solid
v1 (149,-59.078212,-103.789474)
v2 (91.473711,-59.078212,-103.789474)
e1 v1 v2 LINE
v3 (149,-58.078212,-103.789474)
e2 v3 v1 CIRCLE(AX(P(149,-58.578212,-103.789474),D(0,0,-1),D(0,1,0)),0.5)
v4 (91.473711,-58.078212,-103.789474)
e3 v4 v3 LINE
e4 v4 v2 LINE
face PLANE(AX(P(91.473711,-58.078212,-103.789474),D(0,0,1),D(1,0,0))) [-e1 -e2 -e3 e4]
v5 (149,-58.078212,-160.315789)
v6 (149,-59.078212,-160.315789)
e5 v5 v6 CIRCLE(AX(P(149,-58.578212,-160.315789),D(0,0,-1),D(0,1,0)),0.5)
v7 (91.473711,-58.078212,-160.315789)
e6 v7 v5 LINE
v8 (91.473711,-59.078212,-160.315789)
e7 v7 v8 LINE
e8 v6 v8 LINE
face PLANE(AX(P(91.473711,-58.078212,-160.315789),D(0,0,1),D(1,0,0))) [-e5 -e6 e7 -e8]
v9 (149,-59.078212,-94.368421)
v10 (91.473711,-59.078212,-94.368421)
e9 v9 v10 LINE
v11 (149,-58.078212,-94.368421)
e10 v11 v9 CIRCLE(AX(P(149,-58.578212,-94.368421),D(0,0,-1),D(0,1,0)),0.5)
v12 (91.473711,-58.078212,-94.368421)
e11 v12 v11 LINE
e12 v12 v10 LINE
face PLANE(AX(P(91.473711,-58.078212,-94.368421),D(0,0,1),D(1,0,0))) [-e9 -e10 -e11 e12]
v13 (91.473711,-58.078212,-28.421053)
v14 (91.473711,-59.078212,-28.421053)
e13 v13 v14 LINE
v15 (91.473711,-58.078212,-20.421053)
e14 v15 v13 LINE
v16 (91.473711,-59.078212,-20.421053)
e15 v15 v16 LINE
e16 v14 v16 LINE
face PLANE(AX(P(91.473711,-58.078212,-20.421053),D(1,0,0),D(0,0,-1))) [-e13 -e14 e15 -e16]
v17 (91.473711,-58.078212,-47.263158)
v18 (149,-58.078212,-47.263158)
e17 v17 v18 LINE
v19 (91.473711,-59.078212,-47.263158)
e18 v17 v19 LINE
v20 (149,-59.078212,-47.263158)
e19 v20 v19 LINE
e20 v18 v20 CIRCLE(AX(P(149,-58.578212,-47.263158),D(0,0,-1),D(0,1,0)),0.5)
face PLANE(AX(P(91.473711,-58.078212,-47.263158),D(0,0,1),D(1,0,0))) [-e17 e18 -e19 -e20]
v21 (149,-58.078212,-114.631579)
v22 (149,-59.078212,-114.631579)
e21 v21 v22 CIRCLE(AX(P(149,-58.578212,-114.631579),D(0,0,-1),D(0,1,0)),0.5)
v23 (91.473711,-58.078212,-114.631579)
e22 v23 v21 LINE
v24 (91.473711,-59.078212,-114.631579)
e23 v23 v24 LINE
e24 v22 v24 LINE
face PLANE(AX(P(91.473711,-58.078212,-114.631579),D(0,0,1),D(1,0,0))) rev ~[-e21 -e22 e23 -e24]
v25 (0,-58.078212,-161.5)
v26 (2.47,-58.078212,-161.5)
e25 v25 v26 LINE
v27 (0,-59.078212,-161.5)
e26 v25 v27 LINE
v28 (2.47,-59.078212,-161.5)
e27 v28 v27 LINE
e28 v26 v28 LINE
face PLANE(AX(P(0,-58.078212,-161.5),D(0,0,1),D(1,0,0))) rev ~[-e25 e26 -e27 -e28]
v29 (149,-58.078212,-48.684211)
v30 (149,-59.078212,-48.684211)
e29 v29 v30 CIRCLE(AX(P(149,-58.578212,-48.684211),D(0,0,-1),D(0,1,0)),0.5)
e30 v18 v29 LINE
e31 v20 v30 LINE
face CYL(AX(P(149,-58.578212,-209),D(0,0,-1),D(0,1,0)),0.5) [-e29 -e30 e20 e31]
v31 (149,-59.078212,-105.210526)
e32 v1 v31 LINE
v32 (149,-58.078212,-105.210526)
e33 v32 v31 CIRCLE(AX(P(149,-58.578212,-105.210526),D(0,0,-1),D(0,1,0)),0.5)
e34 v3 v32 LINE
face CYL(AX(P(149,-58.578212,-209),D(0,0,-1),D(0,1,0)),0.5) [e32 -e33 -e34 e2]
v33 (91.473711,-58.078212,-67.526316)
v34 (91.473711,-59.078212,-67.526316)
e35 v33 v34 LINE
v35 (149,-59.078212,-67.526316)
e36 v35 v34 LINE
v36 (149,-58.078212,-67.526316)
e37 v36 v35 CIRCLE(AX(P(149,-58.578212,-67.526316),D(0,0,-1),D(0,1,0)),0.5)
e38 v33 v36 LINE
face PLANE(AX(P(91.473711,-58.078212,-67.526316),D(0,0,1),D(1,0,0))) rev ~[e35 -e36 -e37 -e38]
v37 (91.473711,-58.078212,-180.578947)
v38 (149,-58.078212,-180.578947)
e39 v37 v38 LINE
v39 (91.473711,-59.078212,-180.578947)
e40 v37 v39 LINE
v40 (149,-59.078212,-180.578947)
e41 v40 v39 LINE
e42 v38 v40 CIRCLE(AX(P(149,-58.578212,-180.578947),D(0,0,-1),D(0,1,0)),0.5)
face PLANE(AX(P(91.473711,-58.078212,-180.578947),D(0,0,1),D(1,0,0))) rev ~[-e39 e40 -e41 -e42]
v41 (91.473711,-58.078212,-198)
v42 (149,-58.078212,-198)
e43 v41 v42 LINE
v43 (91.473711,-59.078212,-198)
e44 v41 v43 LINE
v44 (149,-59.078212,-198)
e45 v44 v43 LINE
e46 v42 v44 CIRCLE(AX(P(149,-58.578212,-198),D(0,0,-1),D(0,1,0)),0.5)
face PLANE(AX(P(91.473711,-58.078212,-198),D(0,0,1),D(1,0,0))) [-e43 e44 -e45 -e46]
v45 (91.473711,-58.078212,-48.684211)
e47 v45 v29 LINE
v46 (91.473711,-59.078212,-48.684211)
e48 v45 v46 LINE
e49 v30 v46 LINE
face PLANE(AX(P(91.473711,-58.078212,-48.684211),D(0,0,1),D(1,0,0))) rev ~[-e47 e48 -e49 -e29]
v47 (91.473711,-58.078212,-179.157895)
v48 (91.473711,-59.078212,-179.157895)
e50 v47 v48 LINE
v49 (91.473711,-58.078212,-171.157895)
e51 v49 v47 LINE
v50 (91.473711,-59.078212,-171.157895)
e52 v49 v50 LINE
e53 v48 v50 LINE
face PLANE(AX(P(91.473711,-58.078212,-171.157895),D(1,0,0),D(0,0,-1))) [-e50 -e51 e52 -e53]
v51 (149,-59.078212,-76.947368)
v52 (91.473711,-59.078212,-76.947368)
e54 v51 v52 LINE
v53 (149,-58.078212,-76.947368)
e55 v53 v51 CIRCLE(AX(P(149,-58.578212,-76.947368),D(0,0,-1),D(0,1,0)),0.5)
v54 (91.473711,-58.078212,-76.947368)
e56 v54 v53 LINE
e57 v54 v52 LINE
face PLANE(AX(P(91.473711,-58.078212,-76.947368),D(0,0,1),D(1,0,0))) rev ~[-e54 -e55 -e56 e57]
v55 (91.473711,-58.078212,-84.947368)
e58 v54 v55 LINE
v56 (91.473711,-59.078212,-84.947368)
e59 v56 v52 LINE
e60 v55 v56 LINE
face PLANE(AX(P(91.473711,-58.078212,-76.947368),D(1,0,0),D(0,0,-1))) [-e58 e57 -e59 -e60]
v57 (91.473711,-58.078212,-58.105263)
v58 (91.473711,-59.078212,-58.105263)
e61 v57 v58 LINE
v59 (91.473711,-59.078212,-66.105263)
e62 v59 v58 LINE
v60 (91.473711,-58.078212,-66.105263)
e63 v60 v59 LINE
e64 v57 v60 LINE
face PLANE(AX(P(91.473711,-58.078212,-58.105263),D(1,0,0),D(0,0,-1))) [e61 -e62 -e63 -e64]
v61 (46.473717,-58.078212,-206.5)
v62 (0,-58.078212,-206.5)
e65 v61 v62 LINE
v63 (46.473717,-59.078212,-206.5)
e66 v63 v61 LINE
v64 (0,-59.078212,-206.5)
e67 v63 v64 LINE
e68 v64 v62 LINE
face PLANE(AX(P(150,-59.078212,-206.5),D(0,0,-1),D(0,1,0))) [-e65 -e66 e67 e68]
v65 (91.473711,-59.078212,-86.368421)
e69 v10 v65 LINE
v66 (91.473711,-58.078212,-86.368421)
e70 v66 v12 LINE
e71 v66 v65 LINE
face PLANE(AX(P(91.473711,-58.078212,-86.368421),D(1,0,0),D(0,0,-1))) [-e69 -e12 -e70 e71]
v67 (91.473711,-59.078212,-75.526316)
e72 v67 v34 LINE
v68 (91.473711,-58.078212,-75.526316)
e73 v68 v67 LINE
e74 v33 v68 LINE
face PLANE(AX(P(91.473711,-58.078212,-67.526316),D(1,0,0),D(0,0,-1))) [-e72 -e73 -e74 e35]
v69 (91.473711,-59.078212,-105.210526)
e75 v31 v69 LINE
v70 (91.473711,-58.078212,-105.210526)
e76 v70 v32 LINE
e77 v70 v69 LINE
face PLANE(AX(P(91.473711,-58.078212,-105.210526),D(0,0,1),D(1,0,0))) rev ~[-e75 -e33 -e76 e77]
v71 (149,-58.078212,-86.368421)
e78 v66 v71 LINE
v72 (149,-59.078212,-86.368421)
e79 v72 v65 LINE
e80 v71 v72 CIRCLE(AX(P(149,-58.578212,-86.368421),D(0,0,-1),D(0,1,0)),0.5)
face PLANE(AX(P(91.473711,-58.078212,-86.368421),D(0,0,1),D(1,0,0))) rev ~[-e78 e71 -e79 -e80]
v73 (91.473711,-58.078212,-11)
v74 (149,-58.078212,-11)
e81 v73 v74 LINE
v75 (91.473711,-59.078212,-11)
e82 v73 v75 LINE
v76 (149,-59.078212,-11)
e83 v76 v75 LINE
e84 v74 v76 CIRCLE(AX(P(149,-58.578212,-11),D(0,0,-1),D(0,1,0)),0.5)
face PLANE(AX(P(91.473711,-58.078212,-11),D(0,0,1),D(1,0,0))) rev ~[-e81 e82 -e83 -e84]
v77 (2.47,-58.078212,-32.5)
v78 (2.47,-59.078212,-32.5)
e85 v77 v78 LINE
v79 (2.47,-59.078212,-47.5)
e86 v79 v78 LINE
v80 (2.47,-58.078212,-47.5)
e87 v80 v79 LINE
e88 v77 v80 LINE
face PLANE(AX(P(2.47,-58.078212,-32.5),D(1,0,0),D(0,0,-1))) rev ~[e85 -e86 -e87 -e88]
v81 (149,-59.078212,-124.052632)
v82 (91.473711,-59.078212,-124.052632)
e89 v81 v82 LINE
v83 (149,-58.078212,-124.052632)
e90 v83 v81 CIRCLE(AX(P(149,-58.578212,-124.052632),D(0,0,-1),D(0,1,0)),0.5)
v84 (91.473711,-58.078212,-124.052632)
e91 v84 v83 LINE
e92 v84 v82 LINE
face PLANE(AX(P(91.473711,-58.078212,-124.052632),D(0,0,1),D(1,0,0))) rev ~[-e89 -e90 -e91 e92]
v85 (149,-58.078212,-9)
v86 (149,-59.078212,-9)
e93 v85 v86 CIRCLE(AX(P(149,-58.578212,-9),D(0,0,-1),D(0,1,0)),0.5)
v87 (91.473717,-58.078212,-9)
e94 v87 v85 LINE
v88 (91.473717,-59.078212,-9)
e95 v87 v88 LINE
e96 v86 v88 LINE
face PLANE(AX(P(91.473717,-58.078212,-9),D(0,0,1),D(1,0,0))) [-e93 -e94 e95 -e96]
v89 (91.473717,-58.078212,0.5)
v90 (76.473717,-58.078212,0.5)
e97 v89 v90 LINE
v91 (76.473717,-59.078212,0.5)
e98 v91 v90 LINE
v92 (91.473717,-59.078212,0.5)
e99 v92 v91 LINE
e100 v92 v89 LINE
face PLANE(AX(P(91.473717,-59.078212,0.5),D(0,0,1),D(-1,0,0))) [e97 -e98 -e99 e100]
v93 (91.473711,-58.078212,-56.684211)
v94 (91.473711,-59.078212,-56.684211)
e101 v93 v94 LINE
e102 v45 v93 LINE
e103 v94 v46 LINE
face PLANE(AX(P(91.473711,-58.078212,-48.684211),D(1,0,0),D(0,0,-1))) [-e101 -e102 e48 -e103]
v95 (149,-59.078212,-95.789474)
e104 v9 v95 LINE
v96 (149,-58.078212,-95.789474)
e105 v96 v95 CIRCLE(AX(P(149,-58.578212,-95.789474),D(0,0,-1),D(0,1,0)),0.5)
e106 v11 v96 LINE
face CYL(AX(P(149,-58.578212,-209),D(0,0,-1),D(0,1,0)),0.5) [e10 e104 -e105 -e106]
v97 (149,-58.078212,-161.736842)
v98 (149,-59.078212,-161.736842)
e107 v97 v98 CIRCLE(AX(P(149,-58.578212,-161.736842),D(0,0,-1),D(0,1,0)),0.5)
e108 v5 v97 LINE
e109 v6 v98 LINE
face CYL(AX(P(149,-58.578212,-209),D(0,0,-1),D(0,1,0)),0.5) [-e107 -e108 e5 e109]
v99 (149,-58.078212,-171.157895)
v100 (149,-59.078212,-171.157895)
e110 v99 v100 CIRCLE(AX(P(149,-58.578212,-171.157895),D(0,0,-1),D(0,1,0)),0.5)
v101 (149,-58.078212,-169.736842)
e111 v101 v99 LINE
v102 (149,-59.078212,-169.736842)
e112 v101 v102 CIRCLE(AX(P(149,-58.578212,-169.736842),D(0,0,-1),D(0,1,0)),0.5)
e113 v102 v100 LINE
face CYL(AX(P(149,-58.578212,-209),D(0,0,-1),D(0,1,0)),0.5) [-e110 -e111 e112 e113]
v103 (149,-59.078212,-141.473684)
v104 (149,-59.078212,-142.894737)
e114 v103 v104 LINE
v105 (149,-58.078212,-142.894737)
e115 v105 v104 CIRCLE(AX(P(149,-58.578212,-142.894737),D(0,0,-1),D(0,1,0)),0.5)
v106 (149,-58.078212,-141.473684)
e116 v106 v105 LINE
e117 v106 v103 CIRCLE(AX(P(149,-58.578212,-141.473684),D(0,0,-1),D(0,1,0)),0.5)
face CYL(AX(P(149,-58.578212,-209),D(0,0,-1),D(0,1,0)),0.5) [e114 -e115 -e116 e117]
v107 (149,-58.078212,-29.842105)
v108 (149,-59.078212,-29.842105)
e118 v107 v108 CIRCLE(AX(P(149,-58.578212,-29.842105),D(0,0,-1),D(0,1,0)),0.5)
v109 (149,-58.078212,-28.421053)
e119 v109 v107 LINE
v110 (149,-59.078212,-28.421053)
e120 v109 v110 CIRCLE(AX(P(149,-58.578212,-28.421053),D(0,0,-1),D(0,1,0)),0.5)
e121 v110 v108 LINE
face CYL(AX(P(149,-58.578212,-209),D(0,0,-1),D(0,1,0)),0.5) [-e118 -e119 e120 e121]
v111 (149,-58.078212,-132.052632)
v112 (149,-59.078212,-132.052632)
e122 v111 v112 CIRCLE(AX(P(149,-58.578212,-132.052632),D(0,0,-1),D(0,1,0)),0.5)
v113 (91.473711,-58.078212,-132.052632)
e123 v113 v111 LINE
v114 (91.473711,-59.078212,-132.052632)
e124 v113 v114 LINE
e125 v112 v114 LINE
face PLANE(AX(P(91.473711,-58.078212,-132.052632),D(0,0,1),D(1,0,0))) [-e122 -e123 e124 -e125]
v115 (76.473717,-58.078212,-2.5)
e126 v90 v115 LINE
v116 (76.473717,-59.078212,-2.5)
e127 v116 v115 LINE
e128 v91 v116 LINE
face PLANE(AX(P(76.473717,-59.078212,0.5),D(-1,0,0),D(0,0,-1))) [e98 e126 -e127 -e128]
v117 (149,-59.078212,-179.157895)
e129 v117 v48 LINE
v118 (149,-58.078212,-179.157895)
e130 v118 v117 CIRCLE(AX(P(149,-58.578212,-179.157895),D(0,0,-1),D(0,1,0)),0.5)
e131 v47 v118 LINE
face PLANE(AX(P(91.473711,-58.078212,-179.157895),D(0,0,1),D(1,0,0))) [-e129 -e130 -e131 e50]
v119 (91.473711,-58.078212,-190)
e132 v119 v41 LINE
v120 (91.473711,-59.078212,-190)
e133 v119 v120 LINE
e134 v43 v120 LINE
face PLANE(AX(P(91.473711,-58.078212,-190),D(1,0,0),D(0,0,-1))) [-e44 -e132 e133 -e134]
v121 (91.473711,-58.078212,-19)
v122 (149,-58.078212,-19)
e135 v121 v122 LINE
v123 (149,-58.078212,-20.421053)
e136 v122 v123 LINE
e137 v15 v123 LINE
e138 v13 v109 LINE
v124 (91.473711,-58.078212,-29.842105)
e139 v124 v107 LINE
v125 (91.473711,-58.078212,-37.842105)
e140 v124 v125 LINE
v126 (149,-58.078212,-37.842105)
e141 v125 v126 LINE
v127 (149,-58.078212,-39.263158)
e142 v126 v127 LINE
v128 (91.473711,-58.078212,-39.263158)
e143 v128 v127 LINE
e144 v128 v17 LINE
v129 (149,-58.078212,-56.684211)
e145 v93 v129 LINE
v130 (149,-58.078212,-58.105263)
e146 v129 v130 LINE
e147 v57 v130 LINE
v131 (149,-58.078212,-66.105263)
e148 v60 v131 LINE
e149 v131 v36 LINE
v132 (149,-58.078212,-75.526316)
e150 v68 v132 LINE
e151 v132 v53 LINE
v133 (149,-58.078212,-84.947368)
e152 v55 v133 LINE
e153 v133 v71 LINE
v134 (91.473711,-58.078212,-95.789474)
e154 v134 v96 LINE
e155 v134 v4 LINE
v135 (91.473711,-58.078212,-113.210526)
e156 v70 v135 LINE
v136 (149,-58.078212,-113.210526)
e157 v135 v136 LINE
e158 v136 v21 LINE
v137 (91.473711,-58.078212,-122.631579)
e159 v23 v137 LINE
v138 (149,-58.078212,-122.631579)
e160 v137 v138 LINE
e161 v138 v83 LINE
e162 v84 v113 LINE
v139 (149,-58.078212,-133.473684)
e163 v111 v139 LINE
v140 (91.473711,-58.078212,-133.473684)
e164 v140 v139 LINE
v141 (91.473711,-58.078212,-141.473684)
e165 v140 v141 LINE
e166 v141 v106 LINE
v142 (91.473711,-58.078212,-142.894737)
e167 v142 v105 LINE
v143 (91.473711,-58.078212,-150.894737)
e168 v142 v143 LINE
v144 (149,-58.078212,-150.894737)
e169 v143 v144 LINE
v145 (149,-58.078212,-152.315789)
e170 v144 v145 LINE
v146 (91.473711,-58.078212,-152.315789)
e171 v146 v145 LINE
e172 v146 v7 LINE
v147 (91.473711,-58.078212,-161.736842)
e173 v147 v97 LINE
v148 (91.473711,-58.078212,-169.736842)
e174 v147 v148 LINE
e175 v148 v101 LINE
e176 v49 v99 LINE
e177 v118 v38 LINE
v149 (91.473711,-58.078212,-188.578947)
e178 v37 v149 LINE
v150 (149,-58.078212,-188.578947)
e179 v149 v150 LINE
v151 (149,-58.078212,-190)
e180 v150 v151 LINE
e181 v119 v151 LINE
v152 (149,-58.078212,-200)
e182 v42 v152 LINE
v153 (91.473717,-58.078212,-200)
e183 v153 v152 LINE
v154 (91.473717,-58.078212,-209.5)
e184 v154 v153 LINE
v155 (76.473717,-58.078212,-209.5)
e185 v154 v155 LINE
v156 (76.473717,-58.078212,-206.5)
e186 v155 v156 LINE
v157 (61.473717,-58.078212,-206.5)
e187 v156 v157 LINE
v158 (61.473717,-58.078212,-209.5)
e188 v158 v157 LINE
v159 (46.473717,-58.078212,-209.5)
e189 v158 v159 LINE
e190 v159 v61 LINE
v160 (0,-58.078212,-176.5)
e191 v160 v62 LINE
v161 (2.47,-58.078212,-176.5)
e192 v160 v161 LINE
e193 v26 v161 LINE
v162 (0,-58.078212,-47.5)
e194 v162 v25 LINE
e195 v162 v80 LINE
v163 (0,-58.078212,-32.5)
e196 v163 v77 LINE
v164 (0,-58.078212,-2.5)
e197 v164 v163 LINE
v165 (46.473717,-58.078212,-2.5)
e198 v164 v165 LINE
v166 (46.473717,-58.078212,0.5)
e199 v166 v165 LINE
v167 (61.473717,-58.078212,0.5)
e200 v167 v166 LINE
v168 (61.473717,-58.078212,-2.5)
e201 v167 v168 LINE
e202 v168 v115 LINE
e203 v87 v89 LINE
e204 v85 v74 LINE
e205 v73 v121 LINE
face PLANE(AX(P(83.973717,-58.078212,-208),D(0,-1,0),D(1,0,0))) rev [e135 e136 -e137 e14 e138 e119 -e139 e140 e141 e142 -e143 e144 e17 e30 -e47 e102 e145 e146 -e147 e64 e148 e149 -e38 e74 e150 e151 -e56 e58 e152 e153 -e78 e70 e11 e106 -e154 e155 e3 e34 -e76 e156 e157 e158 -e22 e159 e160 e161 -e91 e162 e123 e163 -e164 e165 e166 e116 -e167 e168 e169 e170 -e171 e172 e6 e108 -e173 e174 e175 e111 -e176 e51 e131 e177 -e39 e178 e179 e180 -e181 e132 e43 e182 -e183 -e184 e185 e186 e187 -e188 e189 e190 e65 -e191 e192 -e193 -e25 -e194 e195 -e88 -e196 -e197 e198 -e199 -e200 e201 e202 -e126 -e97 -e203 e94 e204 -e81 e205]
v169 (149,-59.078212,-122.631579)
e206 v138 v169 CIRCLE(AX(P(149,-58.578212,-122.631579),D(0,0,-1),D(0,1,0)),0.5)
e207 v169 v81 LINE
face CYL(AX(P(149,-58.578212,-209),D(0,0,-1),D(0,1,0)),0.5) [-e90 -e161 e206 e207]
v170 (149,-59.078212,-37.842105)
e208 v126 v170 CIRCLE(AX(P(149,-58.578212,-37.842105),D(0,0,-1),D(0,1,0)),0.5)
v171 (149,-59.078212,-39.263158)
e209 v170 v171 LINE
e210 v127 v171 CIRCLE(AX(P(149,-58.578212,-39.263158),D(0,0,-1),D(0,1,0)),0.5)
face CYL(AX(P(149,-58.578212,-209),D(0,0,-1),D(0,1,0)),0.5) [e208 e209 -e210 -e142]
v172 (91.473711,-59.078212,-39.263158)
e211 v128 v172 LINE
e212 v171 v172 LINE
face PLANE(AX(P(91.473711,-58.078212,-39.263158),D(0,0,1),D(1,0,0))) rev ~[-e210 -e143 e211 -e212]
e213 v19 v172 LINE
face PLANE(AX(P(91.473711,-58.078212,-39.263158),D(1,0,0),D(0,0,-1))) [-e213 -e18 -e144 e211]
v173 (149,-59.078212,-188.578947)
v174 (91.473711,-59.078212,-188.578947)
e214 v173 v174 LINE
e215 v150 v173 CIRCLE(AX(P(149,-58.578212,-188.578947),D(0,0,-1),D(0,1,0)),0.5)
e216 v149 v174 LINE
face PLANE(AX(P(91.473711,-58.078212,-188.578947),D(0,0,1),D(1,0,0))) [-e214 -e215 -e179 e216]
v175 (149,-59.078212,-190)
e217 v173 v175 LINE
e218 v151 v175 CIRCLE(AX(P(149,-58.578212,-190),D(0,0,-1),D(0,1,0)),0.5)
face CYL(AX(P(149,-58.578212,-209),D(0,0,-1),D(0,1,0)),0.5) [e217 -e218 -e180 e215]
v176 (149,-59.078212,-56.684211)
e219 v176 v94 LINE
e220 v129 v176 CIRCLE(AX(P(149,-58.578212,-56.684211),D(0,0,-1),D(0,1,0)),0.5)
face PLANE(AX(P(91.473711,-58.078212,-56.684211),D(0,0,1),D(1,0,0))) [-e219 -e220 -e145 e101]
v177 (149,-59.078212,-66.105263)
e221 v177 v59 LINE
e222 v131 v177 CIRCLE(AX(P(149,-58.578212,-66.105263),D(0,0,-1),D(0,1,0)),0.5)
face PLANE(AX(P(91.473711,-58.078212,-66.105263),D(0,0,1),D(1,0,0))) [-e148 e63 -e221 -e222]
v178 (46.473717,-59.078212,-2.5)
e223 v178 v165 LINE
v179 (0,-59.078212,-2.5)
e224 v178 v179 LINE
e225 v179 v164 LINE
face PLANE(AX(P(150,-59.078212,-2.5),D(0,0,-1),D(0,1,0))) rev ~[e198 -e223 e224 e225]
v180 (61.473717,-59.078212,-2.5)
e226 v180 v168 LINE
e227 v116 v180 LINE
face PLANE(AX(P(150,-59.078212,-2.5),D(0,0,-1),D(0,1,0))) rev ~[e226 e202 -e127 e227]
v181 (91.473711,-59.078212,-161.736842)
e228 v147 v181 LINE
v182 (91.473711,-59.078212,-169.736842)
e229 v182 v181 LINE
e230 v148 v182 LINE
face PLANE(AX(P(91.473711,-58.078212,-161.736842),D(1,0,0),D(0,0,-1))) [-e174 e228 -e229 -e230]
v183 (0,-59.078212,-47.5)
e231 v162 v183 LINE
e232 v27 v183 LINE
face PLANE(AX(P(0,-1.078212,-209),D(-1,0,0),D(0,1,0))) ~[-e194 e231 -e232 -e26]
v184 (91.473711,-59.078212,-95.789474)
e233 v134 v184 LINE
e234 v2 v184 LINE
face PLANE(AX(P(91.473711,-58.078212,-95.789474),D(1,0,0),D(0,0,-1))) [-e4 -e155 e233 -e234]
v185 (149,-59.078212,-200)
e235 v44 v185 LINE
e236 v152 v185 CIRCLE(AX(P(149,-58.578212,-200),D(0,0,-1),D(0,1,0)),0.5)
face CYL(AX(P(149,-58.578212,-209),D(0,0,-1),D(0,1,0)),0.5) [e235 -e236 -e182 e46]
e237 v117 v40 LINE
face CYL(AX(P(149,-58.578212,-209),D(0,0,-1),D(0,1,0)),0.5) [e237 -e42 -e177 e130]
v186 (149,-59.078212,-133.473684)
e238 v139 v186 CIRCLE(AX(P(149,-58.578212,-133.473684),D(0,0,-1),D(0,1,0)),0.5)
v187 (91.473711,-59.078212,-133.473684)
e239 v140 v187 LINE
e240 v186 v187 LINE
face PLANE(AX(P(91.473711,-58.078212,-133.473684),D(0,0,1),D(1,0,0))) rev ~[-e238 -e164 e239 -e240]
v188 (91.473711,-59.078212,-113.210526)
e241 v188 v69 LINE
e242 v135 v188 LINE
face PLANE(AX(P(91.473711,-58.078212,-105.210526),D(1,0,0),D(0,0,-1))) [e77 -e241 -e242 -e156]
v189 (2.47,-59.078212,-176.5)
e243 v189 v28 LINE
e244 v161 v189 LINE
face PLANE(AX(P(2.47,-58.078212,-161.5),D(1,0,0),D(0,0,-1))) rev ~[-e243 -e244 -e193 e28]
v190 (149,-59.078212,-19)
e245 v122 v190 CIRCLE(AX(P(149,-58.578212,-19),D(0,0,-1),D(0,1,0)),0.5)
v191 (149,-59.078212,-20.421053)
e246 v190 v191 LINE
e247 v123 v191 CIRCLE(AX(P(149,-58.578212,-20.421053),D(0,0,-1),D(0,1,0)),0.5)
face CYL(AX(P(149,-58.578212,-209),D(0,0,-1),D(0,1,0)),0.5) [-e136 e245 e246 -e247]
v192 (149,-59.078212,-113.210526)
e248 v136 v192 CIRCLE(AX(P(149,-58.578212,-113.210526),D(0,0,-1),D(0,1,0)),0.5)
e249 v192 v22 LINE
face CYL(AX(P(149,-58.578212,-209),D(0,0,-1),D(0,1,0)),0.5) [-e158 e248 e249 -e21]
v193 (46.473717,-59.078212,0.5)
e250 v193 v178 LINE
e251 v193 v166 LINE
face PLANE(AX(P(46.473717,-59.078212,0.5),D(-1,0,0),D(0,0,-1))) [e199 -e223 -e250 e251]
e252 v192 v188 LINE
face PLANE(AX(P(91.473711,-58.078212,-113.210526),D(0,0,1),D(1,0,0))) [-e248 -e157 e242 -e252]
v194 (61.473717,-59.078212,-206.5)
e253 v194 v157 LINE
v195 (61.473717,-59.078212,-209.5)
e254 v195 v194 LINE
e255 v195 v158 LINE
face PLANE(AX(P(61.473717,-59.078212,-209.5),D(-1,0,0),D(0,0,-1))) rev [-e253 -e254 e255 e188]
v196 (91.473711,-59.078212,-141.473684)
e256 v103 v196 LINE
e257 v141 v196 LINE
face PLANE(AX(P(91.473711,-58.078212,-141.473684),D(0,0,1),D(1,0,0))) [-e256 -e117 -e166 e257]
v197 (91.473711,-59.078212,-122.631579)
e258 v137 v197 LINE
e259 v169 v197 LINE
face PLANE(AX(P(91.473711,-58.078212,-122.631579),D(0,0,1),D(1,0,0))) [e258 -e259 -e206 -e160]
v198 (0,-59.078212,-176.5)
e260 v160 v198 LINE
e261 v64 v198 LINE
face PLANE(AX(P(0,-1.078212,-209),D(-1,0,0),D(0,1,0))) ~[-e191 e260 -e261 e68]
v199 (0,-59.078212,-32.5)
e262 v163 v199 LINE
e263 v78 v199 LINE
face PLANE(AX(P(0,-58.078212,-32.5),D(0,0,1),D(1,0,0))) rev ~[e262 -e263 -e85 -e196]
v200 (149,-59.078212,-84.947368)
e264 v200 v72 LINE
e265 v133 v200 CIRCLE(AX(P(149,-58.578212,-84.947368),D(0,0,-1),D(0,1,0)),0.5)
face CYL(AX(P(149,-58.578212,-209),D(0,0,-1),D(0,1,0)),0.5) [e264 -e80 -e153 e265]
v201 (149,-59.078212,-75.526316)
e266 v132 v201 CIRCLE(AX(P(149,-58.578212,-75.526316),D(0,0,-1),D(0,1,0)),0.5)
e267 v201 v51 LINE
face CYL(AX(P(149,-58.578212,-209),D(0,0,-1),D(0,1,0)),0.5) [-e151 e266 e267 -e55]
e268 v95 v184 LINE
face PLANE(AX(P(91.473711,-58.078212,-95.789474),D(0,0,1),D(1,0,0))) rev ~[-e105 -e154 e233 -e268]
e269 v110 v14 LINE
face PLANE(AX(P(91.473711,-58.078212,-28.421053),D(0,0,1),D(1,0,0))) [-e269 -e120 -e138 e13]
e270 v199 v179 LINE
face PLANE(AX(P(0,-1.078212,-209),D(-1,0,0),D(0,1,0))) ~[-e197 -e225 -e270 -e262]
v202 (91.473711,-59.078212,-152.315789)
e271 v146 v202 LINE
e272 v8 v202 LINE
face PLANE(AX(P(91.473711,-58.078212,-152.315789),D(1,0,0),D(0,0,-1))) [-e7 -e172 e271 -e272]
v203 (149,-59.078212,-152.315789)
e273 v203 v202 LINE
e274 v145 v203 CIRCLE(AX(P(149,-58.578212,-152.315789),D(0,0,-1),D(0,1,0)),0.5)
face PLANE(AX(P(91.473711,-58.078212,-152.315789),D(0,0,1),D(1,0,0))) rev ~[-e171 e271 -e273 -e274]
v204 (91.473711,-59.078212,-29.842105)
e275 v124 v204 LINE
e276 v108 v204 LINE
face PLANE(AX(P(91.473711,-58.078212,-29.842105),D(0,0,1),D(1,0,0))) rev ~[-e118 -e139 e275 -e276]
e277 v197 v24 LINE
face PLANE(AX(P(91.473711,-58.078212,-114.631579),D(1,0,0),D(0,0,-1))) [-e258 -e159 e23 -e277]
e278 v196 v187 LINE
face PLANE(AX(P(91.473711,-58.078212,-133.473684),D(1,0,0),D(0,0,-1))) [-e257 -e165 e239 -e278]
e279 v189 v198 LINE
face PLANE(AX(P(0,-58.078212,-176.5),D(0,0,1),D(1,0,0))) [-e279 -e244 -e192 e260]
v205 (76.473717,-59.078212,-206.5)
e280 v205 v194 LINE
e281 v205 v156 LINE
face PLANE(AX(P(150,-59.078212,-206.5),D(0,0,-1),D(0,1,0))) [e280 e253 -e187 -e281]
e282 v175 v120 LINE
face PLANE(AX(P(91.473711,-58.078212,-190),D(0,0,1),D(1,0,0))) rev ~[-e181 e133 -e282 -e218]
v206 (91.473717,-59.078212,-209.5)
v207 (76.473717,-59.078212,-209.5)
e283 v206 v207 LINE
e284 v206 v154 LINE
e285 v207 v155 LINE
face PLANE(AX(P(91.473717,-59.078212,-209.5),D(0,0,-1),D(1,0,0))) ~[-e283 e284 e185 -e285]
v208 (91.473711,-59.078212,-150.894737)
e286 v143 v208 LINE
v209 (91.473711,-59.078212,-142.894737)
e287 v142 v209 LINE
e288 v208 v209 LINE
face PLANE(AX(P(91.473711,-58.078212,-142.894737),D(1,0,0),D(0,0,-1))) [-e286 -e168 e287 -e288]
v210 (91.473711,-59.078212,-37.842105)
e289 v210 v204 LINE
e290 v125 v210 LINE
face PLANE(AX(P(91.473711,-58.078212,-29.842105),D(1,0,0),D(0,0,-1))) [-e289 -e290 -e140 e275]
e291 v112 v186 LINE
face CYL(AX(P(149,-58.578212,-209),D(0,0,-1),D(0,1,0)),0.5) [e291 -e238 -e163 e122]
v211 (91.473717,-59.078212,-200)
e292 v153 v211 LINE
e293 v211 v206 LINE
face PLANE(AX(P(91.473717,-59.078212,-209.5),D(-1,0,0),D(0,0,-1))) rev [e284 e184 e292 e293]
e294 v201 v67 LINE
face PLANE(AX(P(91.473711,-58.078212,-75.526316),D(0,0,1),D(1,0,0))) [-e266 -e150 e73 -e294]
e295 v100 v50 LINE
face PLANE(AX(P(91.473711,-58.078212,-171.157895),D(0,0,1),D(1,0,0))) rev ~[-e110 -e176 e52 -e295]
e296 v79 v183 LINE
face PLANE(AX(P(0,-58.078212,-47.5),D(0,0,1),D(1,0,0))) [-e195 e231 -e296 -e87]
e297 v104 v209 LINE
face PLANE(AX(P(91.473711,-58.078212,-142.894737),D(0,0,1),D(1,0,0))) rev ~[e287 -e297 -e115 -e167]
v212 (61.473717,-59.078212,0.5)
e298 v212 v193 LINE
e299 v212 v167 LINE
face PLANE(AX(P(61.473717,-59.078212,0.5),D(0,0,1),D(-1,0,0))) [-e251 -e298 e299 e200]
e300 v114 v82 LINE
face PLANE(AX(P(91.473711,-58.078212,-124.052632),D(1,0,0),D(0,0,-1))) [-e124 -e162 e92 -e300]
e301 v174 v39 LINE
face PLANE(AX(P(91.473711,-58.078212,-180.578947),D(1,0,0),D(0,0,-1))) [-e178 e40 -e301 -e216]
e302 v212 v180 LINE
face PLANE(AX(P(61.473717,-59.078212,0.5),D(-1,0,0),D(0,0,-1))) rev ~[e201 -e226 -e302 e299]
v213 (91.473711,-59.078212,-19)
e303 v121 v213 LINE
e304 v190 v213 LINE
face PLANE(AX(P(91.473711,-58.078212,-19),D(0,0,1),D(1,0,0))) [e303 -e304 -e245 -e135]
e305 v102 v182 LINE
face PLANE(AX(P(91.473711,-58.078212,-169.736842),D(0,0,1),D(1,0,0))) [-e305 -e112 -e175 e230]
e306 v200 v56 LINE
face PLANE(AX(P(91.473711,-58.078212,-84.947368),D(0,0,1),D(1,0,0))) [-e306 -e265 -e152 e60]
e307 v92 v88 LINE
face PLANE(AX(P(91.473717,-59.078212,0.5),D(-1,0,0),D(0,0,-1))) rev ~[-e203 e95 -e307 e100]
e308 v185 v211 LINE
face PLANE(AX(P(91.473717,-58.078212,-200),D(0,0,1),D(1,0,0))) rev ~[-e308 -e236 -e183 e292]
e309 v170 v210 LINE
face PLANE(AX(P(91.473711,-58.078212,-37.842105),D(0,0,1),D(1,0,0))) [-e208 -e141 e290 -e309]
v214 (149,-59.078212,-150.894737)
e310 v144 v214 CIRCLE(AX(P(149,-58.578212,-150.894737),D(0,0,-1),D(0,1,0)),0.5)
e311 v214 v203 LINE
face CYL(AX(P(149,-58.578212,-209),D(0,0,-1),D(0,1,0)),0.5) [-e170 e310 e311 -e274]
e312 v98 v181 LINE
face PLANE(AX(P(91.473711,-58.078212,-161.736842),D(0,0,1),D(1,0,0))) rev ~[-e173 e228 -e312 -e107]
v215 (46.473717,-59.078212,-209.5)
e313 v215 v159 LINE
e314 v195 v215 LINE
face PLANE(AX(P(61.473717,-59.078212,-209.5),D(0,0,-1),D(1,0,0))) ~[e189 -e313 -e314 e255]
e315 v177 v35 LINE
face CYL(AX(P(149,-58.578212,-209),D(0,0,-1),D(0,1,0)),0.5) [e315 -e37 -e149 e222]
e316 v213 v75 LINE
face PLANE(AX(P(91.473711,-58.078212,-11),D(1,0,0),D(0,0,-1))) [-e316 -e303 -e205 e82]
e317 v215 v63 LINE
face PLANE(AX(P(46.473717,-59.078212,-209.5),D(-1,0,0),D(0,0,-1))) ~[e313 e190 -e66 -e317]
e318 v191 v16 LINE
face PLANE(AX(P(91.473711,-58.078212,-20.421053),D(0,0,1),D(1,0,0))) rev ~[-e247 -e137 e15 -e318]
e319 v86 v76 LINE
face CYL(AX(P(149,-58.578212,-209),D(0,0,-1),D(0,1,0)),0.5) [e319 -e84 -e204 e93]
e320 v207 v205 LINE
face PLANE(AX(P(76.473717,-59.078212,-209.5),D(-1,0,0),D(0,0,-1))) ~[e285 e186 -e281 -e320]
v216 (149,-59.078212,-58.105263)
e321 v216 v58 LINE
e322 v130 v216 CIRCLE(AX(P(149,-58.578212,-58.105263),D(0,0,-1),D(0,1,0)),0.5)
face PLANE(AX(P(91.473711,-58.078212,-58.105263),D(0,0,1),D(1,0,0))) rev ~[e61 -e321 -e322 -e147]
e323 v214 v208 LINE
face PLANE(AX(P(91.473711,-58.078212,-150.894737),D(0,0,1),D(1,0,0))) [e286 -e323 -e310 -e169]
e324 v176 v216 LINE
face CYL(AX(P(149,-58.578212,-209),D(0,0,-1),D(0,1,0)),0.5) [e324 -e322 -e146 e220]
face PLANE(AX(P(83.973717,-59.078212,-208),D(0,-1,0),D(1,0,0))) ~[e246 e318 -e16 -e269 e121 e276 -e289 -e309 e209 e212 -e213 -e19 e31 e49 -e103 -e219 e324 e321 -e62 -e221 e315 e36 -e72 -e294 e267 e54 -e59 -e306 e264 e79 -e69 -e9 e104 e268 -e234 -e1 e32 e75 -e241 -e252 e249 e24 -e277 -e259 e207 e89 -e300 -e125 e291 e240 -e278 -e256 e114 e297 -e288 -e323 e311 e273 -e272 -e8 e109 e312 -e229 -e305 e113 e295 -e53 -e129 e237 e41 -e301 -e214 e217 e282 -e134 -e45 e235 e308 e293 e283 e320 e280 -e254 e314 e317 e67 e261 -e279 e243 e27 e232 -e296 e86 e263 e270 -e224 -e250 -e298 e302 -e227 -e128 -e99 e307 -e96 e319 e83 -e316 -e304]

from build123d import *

# Parameters (mm, degrees)
EXTRUDE_1_DEPTH     = 0.5
EXTRUDE_2_DEPTH     = 104.5
SKETCH_8_W          = 60
SKETCH_8_H          = 8
SKETCH_8_W_2        = 60.000005443
CUT_EXTRUDE_2_DEPTH = 10
EXTRUDE_4_DEPTH     = 2.5
SKETCH_7_R          = 3.5
SKETCH_7_R_2        = 0.5
CUT_EXTRUDE_4_DEPTH = 244
SKETCH_10_W         = 3
SKETCH_10_H         = 95.004122321
SKETCH_10_H_2       = 102.964943566
CUT_EXTRUDE_5_DEPTH = 284
SKETCH_11_W         = 204
SKETCH_11_H         = 57
CUT_EXTRUDE_6_DEPTH = 284
SKETCH_13_W         = 2.47
SKETCH_13_H         = 15
CUT_EXTRUDE_7_DEPTH = 284
SKETCH_14_W         = 15
SKETCH_14_H         = 3
EXTRUDE_5_DEPTH     = 1


with BuildPart() as part:
    # 草图1 → 凸台-拉伸1 (new body)
    with BuildSketch(Plane.XY):
        Polygon((0, -1.078212291), (0, -59.078212291), (150, -59.078212291), (150, -56.078212291), (24.720670391, -21.433997855), (24.720670391, -1.078212291), align=None)
    extrude(amount=EXTRUDE_1_DEPTH)

    # 草图2 → 凸台-拉伸2 (add)
    with BuildSketch(Plane(origin=(0, 0, 0), x_dir=(-1, 0, 0), z_dir=(0, 0, -1))):
        with BuildLine():
            Line((-2.47, -1.078212291), (-2.47, -58.078212291))
            Line((-2.47, -58.078212291), (-149, -58.078212291))
            ThreePointArc((-149, -58.078212291), (-149.5, -58.578212291), (-149, -59.078212291))
            Line((-149, -59.078212291), (0, -59.078212291))
            Line((0, -59.078212291), (0, -1.078212291))
            Line((0, -1.078212291), (-2.47, -1.078212291))
        make_face()
    extrude(amount=EXTRUDE_2_DEPTH)

    # 镜向3: part across plane


with BuildPart() as part_1:
    add(part.part)
    add(part.part.mirror(Plane(origin=(149, -58.578212291, -104.5), x_dir=(1, 0, 0), z_dir=(0, 0, -1))))

    # 草图8 → 切除-拉伸2 (cut)
    with BuildSketch(Plane(origin=(0, -58.078212291, 0), x_dir=(1, 0, 0), z_dir=(0, 1, 0))):
        with Locations((121.473716686, 5)):
            Rectangle(SKETCH_8_W, SKETCH_8_H)
        with Locations((121.473713965, 15)):
            Rectangle(SKETCH_8_W_2, SKETCH_8_H)
        with Locations((121.473713965, 24.421052632)):
            Rectangle(SKETCH_8_W_2, SKETCH_8_H)
        with Locations((121.473713965, 33.842105263)):
            Rectangle(SKETCH_8_W_2, SKETCH_8_H)
        with Locations((121.473713965, 43.263157895)):
            Rectangle(SKETCH_8_W_2, SKETCH_8_H)
        with Locations((121.473713965, 52.684210526)):
            Rectangle(SKETCH_8_W_2, SKETCH_8_H)
        with Locations((121.473713965, 62.105263158)):
            Rectangle(SKETCH_8_W_2, SKETCH_8_H)
        with Locations((121.473713965, 71.526315789)):
            Rectangle(SKETCH_8_W_2, SKETCH_8_H)
        with Locations((121.473713965, 80.947368421)):
            Rectangle(SKETCH_8_W_2, SKETCH_8_H)
        with Locations((121.473713965, 90.368421053)):
            Rectangle(SKETCH_8_W_2, SKETCH_8_H)
        with Locations((121.473713965, 99.789473684)):
            Rectangle(SKETCH_8_W_2, SKETCH_8_H)
        with Locations((121.473713965, 109.210526316)):
            Rectangle(SKETCH_8_W_2, SKETCH_8_H)
        with Locations((121.473713965, 118.631578947)):
            Rectangle(SKETCH_8_W_2, SKETCH_8_H)
        with Locations((121.473713965, 128.052631579)):
            Rectangle(SKETCH_8_W_2, SKETCH_8_H)
        with Locations((121.473713965, 137.473684211)):
            Rectangle(SKETCH_8_W_2, SKETCH_8_H)
        with Locations((121.473713965, 146.894736842)):
            Rectangle(SKETCH_8_W_2, SKETCH_8_H)
        with Locations((121.473713965, 156.315789474)):
            Rectangle(SKETCH_8_W_2, SKETCH_8_H)
        with Locations((121.473713965, 165.736842105)):
            Rectangle(SKETCH_8_W_2, SKETCH_8_H)
        with Locations((121.473713965, 175.157894737)):
            Rectangle(SKETCH_8_W_2, SKETCH_8_H)
        with Locations((121.473713965, 184.578947368)):
            Rectangle(SKETCH_8_W_2, SKETCH_8_H)
        with Locations((121.473713965, 194)):
            Rectangle(SKETCH_8_W_2, SKETCH_8_H)
        with Locations((121.473716686, 204)):
            Rectangle(SKETCH_8_W, SKETCH_8_H)
    extrude(amount=-CUT_EXTRUDE_2_DEPTH, mode=Mode.SUBTRACT)

    # 草图1<3> → 凸台-拉伸4 (add)
    with BuildSketch(Plane.XY):
        Polygon((0, -1.078212291), (0, -59.078212291), (150, -59.078212291), (150, -56.078212291), (24.720670391, -21.433997855), (24.720670391, -1.078212291), align=None)
    extrude_4 = extrude(amount=-EXTRUDE_4_DEPTH)

    # 镜向4: 凸台-拉伸4 across plane
    add(extrude_4.mirror(Plane.XY.offset(-104.5)))

    # 镜向5: 凸台-拉伸4 across plane
    add(extrude_4.mirror(Plane.XY.offset(-104.5)))

    # 草图7 → 切除-拉伸4 (cut)
    with BuildSketch(Plane.XY.offset(0.5)):
        with Locations((8, -45.078212291)):
            Circle(SKETCH_7_R)
        with Locations((25, -45.078212291)):
            Circle(SKETCH_7_R_2)
        with Locations((23, -45.078212291)):
            Circle(SKETCH_7_R_2)
    extrude(amount=-CUT_EXTRUDE_4_DEPTH, mode=Mode.SUBTRACT)

    # 草图10 → 切除-拉伸5 (cut)
    with BuildSketch(Plane(origin=(150, 0, 0), x_dir=(0, 0, -1), z_dir=(1, 0, 0))):
        with Locations((1, -11.576151131)):
            Rectangle(SKETCH_10_W, SKETCH_10_H)
        with Locations((208, -7.595740508)):
            Rectangle(SKETCH_10_W, SKETCH_10_H_2)
    extrude(amount=-CUT_EXTRUDE_5_DEPTH, mode=Mode.SUBTRACT)

    # 草图11 → 切除-拉伸6 (cut)
    with BuildSketch(Plane(origin=(2.47, 0, 0), x_dir=(0, 0, -1), z_dir=(1, 0, 0))):
        with Locations((104.5, -29.578212291)):
            Rectangle(SKETCH_11_W, SKETCH_11_H)
    extrude(amount=-CUT_EXTRUDE_6_DEPTH, mode=Mode.SUBTRACT)

    # 草图13 → 切除-拉伸7 (cut)
    with BuildSketch(Plane(origin=(0, -58.078212291, 0), x_dir=(1, 0, 0), z_dir=(0, 1, 0))):
        with Locations((1.235, 40)):
            Rectangle(SKETCH_13_W, SKETCH_13_H)
        with Locations((1.235, 169)):
            Rectangle(SKETCH_13_W, SKETCH_13_H)
    extrude(amount=-CUT_EXTRUDE_7_DEPTH, mode=Mode.SUBTRACT)

    # 草图14 → 凸台-拉伸5 (add)
    with BuildSketch(Plane(origin=(0, -59.078212291, 0), x_dir=(-1, 0, 0), z_dir=(0, -1, 0))):
        with Locations((-83.973716686, 1)):
            Rectangle(SKETCH_14_W, SKETCH_14_H)
        with Locations((-53.973716686, 1)):
            Rectangle(SKETCH_14_W, SKETCH_14_H)
    extrude_5 = extrude(amount=-EXTRUDE_5_DEPTH)

    # 镜向6: 凸台-拉伸5 across plane
    add(extrude_5.mirror(Plane.XY.offset(-104.5)))


solid = part_1.part
